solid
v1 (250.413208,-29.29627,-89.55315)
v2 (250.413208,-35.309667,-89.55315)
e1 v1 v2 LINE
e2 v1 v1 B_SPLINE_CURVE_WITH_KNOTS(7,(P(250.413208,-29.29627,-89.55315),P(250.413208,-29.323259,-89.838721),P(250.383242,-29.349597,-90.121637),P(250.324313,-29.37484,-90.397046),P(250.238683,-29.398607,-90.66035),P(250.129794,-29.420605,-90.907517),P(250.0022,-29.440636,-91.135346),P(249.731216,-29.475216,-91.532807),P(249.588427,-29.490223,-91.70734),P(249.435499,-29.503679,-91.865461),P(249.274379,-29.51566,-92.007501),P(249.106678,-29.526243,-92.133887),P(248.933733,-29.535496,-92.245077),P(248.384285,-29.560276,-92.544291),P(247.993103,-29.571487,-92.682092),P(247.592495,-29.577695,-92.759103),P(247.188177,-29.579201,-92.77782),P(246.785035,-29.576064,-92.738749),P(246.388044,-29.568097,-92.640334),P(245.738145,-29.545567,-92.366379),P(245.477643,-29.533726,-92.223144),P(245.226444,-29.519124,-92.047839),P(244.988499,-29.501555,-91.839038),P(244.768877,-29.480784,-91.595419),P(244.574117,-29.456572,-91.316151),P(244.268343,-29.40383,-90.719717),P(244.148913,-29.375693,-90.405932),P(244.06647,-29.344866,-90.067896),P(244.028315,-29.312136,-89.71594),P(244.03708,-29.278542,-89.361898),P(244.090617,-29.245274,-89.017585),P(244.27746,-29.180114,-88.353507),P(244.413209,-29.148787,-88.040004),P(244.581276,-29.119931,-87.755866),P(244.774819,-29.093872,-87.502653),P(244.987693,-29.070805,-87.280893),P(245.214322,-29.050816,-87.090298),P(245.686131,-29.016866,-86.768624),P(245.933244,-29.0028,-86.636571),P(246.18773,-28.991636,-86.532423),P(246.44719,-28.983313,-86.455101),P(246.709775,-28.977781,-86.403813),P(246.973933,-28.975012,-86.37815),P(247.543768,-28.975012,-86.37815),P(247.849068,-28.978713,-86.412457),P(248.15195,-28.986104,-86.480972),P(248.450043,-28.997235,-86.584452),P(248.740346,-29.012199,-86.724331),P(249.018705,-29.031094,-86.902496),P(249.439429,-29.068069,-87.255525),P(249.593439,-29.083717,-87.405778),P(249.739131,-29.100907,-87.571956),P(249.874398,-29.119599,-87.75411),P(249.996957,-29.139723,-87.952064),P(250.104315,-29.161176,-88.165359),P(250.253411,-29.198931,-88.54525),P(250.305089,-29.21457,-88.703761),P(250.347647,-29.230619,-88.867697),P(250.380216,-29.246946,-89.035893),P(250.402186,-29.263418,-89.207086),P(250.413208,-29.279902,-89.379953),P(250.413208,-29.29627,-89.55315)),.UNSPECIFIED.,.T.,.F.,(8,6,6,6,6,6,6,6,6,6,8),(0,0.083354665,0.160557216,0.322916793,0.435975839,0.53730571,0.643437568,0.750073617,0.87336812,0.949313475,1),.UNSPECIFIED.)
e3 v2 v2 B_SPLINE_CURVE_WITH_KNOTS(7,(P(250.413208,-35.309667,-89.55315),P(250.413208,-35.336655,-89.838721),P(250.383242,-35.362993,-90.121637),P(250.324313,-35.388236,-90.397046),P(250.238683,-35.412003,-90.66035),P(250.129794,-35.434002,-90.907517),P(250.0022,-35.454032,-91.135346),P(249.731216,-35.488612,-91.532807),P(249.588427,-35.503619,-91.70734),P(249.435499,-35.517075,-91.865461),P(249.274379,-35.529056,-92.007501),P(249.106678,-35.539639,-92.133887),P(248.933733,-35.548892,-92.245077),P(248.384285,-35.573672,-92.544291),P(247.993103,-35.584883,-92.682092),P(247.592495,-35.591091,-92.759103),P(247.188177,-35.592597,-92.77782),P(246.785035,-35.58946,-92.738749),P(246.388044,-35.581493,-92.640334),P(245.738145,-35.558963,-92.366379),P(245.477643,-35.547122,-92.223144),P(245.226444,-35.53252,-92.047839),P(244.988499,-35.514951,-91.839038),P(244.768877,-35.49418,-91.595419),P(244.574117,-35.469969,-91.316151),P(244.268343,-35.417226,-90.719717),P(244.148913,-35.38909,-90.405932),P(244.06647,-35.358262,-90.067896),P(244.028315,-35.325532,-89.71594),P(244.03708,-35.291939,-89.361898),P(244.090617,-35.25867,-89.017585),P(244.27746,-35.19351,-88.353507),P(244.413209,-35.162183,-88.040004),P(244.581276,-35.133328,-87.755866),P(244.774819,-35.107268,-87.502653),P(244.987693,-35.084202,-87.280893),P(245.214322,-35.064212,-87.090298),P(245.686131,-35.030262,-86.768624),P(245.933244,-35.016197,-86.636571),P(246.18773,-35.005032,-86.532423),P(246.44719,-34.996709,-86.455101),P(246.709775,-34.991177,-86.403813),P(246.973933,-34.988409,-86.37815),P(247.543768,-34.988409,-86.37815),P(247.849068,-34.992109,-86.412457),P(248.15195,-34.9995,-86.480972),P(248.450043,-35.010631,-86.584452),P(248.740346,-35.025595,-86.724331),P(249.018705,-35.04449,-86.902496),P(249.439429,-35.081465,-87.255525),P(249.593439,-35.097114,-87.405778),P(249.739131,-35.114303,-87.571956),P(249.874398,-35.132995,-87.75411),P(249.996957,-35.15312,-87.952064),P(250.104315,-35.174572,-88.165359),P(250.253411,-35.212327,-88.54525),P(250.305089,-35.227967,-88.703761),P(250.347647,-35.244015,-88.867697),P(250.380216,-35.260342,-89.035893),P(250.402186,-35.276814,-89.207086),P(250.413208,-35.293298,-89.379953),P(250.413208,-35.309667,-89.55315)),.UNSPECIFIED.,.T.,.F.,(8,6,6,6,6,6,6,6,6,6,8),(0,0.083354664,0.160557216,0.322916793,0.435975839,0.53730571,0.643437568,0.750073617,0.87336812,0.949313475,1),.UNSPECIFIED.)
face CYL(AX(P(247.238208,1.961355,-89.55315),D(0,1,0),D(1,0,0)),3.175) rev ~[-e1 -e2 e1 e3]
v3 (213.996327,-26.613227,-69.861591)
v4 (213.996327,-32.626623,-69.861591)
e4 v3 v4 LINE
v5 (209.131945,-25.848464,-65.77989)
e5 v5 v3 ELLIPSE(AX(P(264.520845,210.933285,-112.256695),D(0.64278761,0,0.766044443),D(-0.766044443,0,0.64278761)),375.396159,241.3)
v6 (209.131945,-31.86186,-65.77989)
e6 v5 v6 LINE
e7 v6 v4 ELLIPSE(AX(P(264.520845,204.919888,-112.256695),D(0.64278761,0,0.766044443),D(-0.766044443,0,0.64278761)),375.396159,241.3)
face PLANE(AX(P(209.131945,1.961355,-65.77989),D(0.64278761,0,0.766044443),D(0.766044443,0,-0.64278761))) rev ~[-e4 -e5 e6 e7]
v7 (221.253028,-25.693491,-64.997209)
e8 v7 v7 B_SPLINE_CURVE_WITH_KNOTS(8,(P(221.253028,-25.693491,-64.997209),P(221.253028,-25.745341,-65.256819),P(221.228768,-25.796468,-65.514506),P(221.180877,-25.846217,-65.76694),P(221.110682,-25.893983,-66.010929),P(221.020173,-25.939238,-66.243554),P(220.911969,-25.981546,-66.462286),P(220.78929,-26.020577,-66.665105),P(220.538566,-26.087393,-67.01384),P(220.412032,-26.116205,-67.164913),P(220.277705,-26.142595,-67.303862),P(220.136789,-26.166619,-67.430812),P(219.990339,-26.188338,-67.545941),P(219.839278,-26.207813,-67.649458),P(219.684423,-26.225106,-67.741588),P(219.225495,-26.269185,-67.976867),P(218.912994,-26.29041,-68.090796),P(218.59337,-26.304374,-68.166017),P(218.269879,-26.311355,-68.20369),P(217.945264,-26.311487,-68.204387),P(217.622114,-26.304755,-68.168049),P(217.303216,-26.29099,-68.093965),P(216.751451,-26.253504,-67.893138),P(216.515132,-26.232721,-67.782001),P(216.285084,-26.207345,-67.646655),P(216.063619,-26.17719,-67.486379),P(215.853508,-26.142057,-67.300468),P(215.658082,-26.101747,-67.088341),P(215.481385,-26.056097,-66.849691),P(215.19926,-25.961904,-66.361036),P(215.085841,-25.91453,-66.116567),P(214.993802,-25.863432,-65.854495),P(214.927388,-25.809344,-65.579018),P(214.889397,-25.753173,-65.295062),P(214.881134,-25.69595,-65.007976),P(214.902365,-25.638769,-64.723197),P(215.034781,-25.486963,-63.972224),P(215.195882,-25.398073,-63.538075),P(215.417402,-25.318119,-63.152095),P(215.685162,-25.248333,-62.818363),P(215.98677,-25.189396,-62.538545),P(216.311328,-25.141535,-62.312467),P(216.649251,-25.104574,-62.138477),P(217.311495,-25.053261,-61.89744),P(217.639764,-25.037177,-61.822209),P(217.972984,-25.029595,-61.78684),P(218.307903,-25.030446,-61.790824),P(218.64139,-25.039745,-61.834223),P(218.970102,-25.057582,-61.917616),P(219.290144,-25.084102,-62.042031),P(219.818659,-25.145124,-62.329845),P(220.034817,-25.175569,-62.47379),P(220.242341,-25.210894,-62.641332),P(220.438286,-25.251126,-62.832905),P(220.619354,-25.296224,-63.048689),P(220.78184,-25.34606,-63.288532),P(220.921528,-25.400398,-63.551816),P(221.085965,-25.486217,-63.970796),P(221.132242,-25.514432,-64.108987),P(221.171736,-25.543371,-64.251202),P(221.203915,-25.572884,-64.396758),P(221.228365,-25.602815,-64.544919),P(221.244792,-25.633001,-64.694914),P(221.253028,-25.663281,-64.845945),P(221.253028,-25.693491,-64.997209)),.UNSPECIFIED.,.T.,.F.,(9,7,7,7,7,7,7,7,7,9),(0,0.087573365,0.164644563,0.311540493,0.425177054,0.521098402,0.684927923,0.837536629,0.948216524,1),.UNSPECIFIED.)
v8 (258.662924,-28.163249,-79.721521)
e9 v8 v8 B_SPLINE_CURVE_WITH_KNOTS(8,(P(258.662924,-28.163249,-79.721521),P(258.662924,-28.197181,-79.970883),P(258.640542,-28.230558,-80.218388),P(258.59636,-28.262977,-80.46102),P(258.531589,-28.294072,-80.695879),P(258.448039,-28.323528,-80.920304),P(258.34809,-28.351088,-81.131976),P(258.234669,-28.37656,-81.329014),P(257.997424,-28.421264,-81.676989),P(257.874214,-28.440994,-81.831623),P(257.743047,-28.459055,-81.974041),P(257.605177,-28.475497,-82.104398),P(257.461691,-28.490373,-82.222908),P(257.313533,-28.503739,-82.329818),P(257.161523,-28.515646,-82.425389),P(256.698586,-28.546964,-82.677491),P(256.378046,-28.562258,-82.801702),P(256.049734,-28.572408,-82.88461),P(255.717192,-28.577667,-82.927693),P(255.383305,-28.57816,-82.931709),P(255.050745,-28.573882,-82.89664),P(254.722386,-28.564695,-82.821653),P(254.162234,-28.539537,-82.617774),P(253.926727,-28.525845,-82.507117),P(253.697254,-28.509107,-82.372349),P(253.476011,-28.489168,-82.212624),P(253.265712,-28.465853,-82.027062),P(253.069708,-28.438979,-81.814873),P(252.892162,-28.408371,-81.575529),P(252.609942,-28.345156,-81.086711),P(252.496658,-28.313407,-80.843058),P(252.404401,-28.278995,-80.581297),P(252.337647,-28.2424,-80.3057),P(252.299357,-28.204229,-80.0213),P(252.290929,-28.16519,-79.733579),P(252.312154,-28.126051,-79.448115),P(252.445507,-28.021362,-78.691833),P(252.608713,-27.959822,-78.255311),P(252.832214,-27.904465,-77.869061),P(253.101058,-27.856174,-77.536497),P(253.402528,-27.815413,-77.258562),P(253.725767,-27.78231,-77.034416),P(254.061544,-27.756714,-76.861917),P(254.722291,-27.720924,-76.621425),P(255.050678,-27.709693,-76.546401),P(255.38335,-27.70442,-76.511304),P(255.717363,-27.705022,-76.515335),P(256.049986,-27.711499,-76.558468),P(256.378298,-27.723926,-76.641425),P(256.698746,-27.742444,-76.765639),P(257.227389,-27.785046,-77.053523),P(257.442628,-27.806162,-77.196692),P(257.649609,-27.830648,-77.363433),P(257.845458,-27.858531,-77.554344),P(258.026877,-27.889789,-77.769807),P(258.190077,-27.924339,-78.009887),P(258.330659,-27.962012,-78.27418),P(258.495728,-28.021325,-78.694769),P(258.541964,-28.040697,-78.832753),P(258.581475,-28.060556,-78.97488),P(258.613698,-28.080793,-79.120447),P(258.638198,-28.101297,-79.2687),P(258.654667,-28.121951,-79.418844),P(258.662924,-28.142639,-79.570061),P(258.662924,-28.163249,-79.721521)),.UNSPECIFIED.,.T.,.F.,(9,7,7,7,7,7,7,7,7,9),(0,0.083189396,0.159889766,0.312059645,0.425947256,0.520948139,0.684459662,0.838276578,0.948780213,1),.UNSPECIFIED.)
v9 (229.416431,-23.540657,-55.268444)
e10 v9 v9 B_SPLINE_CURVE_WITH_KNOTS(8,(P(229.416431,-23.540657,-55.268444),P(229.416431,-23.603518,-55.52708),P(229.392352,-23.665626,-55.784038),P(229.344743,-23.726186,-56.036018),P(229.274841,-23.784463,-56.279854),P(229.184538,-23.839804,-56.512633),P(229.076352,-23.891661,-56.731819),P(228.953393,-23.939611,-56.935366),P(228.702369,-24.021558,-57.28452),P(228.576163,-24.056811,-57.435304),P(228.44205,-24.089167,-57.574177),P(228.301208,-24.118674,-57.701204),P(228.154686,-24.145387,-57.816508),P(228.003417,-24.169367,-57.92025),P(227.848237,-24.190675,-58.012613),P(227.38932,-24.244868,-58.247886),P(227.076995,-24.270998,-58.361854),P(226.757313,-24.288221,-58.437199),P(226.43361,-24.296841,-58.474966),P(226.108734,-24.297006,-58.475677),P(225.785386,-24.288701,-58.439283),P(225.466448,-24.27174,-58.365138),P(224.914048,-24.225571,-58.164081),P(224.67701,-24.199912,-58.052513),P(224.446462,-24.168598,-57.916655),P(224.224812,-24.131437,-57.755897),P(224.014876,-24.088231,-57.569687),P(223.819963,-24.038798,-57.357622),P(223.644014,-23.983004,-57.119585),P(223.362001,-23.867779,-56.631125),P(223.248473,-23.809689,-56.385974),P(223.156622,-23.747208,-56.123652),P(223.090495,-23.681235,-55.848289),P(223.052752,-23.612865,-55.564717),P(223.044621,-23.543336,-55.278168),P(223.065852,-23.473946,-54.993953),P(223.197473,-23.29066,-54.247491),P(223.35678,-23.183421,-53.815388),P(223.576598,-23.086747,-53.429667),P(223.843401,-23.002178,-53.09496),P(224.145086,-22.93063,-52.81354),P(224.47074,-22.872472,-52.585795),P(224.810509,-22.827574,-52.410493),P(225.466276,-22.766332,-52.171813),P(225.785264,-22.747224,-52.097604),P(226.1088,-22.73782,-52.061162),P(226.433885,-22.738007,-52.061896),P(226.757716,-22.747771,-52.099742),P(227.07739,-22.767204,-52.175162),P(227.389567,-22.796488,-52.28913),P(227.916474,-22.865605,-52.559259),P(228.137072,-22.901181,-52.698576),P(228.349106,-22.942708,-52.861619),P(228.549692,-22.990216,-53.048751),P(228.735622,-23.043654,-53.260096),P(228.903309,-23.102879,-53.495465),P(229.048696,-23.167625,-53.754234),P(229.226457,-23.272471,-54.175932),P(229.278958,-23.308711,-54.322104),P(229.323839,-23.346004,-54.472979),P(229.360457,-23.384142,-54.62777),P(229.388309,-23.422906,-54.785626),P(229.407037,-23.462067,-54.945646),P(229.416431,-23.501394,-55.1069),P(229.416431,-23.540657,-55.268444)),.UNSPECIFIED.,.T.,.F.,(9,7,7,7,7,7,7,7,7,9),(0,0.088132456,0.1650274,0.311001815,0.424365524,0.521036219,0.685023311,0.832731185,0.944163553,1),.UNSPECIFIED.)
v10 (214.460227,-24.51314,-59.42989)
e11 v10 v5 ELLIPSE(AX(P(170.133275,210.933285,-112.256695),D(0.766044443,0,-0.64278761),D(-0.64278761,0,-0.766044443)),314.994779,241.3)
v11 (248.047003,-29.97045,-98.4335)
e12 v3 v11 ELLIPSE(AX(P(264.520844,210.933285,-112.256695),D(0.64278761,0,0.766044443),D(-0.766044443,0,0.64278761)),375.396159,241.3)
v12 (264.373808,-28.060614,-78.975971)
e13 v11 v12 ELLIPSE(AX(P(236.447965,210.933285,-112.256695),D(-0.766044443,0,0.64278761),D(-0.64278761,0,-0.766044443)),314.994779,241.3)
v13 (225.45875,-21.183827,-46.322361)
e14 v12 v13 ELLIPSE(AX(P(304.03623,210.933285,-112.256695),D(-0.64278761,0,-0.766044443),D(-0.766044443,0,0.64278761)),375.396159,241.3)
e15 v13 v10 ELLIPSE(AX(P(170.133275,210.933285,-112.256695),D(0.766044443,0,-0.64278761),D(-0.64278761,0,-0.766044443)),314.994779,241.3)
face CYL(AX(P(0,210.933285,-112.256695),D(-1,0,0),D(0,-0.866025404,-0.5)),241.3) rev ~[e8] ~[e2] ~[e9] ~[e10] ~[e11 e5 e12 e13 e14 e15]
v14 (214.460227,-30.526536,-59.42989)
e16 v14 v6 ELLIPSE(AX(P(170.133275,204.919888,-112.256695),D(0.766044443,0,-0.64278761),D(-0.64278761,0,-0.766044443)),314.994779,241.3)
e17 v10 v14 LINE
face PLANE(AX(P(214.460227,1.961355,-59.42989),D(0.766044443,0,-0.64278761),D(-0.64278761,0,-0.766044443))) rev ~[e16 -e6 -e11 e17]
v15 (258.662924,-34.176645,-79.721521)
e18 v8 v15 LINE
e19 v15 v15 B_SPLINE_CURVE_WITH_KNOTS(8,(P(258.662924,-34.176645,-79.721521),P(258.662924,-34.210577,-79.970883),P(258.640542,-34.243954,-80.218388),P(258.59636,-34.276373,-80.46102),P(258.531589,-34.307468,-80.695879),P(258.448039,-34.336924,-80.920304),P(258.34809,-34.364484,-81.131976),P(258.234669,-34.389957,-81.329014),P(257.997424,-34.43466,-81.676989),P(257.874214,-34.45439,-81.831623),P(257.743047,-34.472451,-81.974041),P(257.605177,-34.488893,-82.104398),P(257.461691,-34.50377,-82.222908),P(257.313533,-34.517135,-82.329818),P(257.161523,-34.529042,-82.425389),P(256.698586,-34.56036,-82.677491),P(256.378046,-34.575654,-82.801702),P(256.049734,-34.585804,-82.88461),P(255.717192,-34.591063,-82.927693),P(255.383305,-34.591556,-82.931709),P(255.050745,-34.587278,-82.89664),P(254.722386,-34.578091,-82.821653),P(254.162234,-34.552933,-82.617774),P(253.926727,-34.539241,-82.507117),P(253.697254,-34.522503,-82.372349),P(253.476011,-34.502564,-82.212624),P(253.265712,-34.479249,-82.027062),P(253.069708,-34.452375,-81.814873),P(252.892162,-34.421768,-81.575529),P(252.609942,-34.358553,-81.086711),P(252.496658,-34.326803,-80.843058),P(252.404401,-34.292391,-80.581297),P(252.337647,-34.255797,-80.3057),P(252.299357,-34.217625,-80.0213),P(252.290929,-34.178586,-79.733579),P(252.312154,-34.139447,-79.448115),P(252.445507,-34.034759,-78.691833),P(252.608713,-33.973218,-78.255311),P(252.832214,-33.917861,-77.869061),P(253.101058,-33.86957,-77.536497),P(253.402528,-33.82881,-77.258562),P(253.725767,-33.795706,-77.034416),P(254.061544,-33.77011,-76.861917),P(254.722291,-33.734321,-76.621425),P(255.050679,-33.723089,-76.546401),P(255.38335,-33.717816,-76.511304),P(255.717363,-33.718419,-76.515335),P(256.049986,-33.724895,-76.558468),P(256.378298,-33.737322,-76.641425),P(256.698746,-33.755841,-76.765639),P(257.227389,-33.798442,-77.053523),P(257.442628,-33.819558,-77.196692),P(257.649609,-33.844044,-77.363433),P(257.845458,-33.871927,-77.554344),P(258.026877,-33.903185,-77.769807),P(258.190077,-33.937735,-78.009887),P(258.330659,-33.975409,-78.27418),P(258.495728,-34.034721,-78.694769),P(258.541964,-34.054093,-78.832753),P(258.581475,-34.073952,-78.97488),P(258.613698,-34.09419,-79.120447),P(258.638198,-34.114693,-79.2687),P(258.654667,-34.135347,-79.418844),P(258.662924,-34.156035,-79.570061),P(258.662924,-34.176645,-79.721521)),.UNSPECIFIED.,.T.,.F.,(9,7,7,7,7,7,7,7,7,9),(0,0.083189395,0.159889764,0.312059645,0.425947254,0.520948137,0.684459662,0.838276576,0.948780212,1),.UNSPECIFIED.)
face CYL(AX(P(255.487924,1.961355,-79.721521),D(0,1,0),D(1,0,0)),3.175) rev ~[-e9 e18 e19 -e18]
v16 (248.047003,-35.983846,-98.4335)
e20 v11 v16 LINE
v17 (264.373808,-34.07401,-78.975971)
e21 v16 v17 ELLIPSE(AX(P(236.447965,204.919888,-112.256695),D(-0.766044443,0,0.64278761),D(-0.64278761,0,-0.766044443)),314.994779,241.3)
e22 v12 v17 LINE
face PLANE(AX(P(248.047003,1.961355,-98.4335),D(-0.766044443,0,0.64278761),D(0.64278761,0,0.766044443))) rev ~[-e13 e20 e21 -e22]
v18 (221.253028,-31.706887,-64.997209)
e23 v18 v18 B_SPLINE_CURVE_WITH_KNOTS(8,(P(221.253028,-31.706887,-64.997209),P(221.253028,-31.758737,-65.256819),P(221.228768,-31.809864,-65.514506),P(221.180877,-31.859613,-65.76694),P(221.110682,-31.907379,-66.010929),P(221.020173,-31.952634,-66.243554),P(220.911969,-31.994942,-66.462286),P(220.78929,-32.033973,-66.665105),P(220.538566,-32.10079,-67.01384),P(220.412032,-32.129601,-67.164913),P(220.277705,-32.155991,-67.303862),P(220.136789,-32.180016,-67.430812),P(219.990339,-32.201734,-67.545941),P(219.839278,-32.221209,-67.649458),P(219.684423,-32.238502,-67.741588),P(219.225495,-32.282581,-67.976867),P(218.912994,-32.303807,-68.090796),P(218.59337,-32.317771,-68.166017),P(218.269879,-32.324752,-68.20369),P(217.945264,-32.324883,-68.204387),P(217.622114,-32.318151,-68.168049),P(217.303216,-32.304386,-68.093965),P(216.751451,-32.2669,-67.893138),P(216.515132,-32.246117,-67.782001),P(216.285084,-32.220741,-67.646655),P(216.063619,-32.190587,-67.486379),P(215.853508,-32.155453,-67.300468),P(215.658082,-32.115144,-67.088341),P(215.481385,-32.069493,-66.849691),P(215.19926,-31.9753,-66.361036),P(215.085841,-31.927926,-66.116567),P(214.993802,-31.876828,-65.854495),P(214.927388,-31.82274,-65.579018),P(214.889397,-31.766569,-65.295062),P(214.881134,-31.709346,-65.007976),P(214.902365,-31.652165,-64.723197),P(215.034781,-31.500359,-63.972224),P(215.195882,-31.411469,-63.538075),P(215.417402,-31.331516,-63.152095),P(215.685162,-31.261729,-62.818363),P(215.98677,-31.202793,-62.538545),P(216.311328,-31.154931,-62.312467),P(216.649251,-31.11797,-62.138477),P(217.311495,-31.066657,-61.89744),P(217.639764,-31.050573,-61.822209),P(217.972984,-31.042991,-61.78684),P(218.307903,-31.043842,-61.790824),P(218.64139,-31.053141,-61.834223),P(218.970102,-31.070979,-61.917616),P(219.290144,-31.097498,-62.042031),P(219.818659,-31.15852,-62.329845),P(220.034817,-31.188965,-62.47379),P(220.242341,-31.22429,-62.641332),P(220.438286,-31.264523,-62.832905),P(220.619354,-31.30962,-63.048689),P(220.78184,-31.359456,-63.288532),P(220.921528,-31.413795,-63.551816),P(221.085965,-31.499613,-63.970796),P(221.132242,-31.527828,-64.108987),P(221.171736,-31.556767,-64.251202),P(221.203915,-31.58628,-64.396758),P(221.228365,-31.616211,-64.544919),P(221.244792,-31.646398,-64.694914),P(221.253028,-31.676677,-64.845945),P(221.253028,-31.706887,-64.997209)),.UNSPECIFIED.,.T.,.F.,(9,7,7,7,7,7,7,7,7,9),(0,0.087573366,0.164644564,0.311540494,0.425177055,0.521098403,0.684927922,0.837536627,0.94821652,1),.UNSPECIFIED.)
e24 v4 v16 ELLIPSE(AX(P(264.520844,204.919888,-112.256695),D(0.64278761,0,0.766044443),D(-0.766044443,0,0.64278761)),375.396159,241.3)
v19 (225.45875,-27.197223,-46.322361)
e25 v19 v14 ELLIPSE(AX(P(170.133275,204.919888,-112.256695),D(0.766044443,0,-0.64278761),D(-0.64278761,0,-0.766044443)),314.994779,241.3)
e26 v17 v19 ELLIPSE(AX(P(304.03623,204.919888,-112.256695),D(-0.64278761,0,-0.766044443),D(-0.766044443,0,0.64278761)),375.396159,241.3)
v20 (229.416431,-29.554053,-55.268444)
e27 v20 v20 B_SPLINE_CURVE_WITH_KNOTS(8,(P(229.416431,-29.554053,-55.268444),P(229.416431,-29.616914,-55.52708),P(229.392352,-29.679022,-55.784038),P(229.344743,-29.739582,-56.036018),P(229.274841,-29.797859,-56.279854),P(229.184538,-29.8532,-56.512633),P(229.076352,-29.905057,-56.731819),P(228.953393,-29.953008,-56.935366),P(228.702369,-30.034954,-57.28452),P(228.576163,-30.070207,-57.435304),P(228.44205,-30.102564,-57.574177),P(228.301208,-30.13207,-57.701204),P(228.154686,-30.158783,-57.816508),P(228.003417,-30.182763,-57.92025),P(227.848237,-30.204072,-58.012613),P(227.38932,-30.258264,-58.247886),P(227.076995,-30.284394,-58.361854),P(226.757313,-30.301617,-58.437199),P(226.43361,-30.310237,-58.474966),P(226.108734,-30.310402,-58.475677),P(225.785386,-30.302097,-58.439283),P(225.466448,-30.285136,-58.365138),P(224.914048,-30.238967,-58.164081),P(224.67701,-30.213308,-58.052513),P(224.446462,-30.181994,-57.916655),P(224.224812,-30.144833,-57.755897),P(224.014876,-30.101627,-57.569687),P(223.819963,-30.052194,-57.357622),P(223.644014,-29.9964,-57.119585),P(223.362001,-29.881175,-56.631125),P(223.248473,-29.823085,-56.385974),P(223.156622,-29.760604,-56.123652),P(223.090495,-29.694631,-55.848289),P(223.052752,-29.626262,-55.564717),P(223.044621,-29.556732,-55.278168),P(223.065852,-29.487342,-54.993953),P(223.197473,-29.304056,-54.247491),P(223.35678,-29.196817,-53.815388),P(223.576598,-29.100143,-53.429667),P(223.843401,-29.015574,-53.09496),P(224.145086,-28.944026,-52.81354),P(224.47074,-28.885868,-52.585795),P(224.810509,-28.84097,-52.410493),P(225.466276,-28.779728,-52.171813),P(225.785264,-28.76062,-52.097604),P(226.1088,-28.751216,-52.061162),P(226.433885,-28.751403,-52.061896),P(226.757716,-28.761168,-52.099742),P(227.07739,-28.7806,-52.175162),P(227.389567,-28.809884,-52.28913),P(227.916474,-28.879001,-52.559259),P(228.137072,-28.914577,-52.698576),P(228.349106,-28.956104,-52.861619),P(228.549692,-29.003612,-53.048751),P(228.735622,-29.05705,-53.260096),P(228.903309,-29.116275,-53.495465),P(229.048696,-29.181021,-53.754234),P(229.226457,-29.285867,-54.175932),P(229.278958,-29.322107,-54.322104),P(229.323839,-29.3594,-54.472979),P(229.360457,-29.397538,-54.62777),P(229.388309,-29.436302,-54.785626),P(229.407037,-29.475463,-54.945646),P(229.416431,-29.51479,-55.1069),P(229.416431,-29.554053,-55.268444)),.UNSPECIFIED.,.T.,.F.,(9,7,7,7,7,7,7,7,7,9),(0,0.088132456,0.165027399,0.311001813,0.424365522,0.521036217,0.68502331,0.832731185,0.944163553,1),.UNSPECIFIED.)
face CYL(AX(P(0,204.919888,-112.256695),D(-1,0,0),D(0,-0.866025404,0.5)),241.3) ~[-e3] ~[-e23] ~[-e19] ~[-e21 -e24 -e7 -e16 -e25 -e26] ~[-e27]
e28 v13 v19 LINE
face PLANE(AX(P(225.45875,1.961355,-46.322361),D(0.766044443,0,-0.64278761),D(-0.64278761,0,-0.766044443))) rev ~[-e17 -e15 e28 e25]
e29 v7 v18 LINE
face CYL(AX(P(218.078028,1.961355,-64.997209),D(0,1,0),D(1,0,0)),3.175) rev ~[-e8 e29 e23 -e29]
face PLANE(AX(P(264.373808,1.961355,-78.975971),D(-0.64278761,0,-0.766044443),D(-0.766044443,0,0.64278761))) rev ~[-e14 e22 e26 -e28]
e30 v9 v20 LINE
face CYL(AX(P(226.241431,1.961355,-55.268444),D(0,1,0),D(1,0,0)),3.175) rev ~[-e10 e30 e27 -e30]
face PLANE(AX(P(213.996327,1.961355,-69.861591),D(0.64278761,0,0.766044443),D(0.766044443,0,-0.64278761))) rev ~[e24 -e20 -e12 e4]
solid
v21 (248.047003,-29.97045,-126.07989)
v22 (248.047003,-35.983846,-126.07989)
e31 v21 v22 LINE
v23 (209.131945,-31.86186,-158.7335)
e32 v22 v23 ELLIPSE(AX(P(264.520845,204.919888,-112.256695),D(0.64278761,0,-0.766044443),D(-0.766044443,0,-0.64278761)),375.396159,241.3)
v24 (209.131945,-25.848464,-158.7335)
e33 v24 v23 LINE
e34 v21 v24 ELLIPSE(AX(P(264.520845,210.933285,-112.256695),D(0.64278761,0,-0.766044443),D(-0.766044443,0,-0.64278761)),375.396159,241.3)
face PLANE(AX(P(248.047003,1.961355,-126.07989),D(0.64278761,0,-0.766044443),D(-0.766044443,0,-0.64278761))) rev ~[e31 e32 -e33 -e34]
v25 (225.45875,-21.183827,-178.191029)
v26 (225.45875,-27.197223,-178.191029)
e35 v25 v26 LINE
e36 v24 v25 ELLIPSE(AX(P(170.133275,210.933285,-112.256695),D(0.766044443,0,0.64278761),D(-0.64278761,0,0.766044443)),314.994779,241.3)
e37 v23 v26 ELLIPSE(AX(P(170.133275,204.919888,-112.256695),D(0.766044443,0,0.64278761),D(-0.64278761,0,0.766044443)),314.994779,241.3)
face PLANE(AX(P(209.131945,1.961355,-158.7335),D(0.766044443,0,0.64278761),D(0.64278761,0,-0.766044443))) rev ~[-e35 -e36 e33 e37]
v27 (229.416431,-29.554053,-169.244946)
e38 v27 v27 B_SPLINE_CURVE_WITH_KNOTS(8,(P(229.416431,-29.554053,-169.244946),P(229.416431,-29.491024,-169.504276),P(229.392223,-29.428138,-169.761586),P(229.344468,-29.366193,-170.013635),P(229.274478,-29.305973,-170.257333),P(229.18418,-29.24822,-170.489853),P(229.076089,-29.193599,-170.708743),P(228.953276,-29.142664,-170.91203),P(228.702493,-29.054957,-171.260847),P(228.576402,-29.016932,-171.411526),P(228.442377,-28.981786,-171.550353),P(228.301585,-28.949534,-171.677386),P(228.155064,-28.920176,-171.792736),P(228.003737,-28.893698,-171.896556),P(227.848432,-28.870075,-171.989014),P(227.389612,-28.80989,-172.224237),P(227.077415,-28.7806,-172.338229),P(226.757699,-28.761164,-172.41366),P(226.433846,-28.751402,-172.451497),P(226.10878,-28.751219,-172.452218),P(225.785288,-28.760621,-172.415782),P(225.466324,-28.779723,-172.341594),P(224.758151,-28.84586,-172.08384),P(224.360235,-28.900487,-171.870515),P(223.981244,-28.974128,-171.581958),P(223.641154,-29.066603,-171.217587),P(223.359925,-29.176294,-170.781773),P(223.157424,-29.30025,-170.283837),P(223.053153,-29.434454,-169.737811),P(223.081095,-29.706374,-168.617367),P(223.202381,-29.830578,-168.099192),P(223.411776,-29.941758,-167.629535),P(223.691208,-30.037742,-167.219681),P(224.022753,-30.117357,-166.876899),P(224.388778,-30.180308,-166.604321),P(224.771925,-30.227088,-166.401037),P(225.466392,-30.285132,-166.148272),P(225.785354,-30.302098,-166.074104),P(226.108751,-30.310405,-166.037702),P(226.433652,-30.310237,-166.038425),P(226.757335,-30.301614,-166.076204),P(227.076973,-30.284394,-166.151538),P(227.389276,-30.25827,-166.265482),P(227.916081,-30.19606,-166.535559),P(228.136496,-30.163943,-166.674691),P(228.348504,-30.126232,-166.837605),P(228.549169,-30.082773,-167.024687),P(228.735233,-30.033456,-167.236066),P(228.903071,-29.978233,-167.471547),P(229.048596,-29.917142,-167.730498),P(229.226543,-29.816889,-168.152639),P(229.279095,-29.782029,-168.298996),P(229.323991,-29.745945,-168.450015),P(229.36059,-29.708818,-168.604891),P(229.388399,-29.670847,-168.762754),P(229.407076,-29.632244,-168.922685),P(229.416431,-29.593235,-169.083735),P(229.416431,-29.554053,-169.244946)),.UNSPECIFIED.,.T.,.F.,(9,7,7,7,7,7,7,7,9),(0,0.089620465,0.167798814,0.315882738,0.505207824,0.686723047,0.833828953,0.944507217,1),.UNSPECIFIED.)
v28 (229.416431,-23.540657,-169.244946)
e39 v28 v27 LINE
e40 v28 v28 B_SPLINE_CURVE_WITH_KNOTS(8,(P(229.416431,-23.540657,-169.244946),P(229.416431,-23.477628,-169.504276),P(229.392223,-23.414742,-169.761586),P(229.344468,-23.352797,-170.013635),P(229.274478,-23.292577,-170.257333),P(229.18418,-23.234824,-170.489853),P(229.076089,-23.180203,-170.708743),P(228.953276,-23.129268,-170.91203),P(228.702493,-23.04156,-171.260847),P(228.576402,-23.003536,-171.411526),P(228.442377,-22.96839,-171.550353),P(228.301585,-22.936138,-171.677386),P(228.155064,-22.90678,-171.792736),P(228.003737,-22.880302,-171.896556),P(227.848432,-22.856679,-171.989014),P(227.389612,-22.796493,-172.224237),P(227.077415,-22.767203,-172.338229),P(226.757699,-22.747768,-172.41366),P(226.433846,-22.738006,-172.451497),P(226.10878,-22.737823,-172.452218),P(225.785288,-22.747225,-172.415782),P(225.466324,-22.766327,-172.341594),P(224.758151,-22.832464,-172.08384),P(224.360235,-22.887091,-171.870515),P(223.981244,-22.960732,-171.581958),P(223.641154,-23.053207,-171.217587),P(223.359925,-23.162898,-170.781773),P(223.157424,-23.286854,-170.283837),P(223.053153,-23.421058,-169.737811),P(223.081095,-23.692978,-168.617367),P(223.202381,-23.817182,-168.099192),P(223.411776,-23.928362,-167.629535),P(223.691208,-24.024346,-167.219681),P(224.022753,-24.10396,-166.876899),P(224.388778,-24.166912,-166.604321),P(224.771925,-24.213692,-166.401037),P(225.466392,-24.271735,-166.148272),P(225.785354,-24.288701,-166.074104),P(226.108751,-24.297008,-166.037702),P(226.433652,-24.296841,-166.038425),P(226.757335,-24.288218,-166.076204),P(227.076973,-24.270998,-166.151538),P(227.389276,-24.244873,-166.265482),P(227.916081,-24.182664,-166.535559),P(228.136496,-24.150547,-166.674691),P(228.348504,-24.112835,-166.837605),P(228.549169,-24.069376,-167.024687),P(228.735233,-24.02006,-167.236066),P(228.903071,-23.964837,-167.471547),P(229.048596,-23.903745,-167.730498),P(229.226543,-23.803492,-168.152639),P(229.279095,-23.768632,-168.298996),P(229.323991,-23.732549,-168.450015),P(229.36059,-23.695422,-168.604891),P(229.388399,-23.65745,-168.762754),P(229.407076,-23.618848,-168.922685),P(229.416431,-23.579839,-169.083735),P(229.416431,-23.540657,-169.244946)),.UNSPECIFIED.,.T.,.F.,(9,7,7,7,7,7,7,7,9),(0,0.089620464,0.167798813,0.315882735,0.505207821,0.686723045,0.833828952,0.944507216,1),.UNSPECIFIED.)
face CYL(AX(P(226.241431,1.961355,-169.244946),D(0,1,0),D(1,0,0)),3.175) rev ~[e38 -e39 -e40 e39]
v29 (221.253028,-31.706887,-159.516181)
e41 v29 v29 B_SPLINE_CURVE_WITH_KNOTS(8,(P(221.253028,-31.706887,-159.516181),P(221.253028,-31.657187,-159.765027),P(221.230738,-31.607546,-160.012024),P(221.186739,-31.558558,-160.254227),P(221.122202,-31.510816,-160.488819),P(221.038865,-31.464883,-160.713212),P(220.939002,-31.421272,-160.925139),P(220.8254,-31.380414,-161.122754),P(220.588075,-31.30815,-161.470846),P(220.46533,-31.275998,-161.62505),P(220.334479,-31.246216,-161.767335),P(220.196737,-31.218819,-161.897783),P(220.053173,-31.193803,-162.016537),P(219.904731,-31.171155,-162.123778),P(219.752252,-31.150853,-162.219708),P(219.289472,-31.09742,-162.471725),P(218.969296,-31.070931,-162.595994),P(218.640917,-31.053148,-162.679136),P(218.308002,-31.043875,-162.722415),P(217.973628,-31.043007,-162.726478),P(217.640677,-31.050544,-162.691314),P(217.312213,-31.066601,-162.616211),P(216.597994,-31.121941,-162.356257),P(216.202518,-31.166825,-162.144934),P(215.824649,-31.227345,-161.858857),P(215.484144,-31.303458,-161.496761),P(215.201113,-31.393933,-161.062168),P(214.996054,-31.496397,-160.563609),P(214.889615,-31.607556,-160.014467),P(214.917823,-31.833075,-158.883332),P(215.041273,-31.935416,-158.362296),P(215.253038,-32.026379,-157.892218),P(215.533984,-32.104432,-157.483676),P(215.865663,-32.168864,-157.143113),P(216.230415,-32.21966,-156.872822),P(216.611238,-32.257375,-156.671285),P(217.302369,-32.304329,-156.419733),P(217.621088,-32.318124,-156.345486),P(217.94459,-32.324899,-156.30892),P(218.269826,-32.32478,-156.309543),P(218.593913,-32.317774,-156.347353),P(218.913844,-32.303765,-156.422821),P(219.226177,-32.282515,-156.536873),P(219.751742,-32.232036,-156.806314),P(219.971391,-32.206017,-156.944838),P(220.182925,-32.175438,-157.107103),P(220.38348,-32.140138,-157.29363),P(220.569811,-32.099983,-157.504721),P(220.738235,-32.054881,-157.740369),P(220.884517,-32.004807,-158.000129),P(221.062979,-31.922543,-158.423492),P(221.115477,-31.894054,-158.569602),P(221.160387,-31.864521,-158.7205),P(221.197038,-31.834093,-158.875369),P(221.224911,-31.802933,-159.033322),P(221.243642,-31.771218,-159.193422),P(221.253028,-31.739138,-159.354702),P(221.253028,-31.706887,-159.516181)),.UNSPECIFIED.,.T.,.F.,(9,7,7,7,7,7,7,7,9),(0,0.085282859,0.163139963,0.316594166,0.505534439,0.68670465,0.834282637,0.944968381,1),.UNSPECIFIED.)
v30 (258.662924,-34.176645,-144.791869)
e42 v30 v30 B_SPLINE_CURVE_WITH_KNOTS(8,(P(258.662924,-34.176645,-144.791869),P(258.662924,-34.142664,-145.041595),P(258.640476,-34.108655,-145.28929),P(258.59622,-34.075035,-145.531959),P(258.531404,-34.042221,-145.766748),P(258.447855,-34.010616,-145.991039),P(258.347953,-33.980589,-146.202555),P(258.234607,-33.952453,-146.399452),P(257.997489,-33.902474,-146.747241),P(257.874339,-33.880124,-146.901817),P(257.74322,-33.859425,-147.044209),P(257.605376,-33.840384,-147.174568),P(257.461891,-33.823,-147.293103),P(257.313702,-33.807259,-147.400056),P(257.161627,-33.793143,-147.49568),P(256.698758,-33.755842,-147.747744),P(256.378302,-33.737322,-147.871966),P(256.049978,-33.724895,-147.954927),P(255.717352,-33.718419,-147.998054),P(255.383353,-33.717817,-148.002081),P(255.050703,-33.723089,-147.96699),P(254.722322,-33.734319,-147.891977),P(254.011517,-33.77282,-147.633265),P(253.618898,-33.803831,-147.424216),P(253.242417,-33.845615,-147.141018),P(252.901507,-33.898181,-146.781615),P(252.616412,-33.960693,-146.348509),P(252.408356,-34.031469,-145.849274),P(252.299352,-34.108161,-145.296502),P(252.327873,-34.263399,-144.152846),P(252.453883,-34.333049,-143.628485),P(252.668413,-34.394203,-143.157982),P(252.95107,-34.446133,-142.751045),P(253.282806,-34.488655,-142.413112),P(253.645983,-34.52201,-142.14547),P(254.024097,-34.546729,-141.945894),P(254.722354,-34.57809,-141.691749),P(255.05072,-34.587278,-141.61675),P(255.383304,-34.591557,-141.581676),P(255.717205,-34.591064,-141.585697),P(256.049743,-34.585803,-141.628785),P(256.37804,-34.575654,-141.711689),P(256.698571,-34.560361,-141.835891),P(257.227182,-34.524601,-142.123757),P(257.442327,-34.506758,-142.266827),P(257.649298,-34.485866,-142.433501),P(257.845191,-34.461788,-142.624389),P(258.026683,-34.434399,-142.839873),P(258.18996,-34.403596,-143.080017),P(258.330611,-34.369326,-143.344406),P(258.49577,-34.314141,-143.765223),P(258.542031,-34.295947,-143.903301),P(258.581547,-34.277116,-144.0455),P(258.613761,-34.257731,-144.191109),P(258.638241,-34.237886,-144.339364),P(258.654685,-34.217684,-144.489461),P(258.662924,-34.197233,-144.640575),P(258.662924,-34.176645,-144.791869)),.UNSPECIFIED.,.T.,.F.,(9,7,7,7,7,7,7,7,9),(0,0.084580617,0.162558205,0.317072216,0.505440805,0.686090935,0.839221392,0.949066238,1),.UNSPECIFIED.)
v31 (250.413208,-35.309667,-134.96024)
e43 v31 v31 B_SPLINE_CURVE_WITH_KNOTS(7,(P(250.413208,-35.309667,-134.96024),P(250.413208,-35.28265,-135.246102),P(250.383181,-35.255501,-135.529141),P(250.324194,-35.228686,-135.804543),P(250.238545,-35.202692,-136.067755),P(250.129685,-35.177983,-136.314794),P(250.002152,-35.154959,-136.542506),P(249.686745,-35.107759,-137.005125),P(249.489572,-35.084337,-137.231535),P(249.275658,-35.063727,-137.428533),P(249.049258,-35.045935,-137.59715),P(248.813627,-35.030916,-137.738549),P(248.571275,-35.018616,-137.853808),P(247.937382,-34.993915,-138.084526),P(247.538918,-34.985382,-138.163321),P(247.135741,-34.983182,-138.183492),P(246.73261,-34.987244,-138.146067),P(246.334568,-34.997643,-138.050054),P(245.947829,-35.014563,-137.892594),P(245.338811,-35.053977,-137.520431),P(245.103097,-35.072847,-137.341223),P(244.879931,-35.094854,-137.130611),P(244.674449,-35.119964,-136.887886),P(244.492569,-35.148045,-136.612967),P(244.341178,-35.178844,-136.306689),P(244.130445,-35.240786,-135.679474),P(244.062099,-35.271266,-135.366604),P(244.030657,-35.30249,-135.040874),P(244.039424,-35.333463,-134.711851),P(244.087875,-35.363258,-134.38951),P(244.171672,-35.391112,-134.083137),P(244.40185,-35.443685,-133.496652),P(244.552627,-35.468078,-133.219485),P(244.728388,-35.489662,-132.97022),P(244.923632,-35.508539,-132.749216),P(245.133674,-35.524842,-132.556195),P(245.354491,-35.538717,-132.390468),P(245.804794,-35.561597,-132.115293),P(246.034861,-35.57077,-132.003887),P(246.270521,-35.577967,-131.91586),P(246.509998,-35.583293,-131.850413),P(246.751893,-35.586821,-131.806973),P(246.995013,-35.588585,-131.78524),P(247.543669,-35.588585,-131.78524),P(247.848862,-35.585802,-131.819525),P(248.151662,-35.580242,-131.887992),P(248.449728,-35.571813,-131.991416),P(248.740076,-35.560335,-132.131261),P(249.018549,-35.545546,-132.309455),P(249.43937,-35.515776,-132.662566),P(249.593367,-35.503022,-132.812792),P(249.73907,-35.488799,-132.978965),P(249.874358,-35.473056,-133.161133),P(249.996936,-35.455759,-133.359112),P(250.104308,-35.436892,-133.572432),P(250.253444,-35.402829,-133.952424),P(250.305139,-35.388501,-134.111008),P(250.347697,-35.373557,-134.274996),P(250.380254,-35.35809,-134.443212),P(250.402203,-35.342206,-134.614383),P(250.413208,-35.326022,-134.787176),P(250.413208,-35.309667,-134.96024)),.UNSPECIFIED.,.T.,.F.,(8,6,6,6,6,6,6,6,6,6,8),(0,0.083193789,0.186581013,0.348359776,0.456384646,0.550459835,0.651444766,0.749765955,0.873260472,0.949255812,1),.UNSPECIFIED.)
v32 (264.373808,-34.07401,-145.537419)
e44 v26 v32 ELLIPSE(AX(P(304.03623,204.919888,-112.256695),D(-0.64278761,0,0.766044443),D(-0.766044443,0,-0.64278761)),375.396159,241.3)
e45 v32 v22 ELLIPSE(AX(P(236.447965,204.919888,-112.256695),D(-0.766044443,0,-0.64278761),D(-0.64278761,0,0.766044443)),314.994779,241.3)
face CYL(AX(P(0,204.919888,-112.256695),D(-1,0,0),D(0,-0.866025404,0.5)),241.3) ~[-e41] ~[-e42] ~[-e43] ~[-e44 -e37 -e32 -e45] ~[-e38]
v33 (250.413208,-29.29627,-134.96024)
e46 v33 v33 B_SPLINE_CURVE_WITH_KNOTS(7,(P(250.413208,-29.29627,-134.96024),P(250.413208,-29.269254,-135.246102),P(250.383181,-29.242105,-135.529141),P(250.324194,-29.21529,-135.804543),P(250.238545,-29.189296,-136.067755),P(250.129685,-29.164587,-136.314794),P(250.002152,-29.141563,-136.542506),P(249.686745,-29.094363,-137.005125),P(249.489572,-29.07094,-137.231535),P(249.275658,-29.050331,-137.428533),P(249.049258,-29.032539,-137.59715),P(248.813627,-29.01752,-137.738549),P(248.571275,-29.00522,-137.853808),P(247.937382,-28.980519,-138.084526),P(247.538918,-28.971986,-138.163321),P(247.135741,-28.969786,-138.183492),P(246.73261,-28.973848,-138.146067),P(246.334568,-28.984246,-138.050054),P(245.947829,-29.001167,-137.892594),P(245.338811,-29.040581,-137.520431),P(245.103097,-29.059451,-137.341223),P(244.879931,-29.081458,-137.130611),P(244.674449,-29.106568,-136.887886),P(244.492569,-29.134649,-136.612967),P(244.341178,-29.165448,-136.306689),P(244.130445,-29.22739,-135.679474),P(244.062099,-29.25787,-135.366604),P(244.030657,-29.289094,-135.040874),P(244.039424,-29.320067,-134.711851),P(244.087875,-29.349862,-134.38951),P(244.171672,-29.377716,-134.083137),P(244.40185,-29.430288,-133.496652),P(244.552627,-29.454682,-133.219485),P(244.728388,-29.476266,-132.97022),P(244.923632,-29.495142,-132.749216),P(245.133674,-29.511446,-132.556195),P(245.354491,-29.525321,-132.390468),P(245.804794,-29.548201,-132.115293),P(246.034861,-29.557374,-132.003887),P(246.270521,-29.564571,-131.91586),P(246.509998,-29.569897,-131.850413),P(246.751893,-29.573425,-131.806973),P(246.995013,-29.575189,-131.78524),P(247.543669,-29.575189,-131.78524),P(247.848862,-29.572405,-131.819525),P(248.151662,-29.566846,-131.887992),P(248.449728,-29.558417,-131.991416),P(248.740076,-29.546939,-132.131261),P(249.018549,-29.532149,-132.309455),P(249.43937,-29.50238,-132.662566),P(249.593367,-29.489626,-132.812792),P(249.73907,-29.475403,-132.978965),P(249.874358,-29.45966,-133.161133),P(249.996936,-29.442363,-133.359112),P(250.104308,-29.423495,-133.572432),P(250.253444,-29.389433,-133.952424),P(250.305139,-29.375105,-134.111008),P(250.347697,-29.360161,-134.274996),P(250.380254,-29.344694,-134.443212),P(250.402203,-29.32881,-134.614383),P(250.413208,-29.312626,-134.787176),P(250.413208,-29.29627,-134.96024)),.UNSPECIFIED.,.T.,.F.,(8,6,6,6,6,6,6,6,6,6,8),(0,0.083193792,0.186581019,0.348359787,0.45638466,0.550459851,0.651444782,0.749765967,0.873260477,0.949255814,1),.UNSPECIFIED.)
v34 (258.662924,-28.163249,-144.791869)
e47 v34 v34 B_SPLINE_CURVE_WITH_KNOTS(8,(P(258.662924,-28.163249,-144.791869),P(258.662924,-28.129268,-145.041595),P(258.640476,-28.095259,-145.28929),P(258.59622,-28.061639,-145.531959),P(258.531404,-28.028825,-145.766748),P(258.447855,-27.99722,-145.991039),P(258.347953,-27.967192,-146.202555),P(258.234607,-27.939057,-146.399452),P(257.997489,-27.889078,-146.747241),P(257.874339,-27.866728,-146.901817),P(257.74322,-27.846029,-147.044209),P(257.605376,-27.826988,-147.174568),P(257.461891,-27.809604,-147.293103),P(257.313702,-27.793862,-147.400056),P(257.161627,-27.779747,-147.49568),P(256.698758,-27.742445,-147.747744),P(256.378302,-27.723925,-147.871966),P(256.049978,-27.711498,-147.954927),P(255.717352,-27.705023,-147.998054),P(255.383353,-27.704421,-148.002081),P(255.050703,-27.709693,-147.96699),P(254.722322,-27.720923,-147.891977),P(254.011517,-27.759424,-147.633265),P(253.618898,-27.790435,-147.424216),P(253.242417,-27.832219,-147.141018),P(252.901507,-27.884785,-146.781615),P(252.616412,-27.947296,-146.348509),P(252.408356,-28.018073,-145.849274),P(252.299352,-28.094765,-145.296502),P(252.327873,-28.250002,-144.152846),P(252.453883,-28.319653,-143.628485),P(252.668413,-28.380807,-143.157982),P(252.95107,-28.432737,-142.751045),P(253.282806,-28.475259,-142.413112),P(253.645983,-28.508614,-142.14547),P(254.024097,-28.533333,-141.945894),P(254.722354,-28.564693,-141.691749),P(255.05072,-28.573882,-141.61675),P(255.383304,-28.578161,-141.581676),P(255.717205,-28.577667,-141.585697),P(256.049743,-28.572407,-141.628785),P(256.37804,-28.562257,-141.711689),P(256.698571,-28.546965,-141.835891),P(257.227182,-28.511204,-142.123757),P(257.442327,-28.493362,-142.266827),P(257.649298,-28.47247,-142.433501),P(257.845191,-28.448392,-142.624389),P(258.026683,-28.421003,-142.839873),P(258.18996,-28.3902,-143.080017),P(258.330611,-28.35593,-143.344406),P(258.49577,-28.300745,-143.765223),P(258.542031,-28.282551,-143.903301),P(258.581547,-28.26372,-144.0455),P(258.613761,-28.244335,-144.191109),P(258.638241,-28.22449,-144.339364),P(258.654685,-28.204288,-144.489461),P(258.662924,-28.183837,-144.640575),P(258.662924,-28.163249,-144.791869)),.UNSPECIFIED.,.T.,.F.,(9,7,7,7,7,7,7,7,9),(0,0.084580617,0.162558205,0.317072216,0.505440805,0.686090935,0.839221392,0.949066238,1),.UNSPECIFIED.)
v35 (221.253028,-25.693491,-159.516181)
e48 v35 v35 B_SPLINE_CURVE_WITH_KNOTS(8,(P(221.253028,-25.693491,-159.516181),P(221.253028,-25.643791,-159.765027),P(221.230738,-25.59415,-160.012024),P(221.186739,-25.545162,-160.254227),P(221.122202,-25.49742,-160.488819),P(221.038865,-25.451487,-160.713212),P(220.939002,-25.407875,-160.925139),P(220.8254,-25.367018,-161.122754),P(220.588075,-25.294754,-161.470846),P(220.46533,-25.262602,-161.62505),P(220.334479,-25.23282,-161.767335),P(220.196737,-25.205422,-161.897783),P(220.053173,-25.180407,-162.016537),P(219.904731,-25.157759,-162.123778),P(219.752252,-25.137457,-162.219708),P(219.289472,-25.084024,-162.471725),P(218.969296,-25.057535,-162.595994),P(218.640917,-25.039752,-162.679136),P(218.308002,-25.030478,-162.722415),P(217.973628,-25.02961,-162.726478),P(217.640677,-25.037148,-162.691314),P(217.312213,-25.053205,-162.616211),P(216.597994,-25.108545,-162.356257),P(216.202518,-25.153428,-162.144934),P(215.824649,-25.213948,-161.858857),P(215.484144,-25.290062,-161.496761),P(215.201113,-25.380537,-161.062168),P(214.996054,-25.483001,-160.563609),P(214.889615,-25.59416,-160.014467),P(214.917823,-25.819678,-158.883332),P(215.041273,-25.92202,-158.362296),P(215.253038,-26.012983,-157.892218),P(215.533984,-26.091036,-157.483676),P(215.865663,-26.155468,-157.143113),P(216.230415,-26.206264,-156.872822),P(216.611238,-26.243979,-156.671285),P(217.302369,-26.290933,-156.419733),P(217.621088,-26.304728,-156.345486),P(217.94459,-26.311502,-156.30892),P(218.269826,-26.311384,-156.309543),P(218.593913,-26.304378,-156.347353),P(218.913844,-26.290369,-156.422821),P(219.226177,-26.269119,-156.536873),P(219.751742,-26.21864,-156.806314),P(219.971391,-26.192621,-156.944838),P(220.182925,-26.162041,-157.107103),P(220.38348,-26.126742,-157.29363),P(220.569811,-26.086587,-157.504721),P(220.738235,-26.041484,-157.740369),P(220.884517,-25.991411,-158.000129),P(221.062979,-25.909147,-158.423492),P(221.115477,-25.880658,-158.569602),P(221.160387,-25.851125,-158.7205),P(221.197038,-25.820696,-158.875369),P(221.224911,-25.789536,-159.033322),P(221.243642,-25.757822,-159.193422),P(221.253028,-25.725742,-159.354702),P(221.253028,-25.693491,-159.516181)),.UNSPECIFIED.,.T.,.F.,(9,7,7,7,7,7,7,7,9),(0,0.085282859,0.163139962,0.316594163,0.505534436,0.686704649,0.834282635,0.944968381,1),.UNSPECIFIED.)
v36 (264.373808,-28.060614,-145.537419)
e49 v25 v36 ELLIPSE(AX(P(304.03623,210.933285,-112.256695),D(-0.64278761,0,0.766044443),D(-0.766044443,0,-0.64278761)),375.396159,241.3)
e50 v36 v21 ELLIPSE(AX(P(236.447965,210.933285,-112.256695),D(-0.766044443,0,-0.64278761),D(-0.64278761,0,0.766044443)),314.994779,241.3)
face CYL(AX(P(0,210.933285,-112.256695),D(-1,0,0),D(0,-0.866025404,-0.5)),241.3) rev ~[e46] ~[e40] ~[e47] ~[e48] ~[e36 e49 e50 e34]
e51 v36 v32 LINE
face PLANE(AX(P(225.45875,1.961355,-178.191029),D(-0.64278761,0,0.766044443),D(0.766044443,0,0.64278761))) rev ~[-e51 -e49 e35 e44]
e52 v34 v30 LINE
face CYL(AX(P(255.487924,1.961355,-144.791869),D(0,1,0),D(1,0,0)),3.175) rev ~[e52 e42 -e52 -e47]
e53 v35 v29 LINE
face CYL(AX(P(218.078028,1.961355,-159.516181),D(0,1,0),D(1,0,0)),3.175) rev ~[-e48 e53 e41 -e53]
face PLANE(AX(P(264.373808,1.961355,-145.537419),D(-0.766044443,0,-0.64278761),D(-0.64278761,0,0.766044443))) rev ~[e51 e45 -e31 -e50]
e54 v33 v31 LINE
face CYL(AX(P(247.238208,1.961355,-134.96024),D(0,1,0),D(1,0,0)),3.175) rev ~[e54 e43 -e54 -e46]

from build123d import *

# Parameters (mm, degrees)
BOSS_EXTRUDE4_DEPTH = 304.8
SKETCH4_W           = 120.367414929
SKETCH4_H           = 199.720747733
CUT_EXTRUDE20_DEPTH = 200
SKETCH4_17_R        = 3.175
CUT_EXTRUDE21_DEPTH = 200


with BuildPart() as part:
    # Sketch3 → Boss-Extrude4 (new body)
    with BuildSketch(Plane(origin=(0, 0, 0), x_dir=(0, 0, -1), z_dir=(1, 0, 0))):
        with BuildLine():
            ThreePointArc((232.90669496, 1.961354585), (112.25669496, -30.366715482), (-8.39330504, 1.961354585))
            Line((-8.39330504, 1.961354585), (-8.39330504, -4.052041589))
            ThreePointArc((-8.39330504, -4.052041589), (112.25669496, -36.380111656), (232.90669496, -4.052041589))
            Line((232.90669496, -4.052041589), (232.90669496, 1.961354585))
        make_face()
    extrude(amount=BOSS_EXTRUDE4_DEPTH)

    # Sketch4 → Cut-Extrude20 (cut)
    with BuildSketch(Plane(origin=(0, 1.961354585, 0), x_dir=(1, 0, 0), z_dir=(0, 1, 0))):
        with Locations((227.963988261, 108.244447796)):
            Rectangle(SKETCH4_W, SKETCH4_H)
        Polygon((264.373807825, 78.97597139), (225.458750115, 46.322360818), (214.460227487, 59.429889674), (209.131944829, 65.779889674), (213.996327043, 69.861590995), (248.047002539, 98.433500246), align=None, mode=Mode.SUBTRACT)
        Polygon((248.047002539, 126.079889674), (209.131944829, 158.733500246), (225.458750115, 178.191029101), (264.373807825, 145.537418529), align=None, mode=Mode.SUBTRACT)
    extrude(amount=-CUT_EXTRUDE20_DEPTH, mode=Mode.SUBTRACT)


with BuildPart() as cut_extrude20_piece_1:
    # of the separate pieces the step leaves, piece 1, a body of its own (cut_extrude20_pieces_kept)
    add(part.part.solids().sort_by_distance((225.458750115, -21.183827263, -178.191029101))[0])


with BuildPart() as cut_extrude20_piece_2:
    # of the separate pieces the step leaves, piece 2, a body of its own (cut_extrude20_pieces_kept)
    add(part.part.solids().sort_by_distance((209.131944829, -25.848464294, -65.779889674))[0])


with BuildPart() as cut_extrude21_tool:
    # Sketch4<17> → Cut-Extrude21 (new body)
    with BuildSketch(Plane(origin=(0, 1.961354585, 0), x_dir=(1, 0, 0), z_dir=(0, 1, 0))):
        with Locations((218.078028364, 64.997208781)):
            Circle(SKETCH4_17_R)
        with Locations((247.238208457, 89.553149912)):
            Circle(SKETCH4_17_R)
        with Locations((226.241431007, 55.268444354)):
            Circle(SKETCH4_17_R)
        with Locations((255.487924349, 79.72152136)):
            Circle(SKETCH4_17_R)
        with Locations((226.241431007, 169.244945565)):
            Circle(SKETCH4_17_R)
        with Locations((255.487924349, 144.791868559)):
            Circle(SKETCH4_17_R)
        with Locations((218.078028364, 159.516181138)):
            Circle(SKETCH4_17_R)
        with Locations((247.238208457, 134.960240007)):
            Circle(SKETCH4_17_R)
    extrude(amount=-CUT_EXTRUDE21_DEPTH)


with BuildPart() as cut_extrude20_piece_1_1:
    add(cut_extrude20_piece_1.part)

    # Cut-Extrude21: cut by cut_extrude21_tool
    add(cut_extrude21_tool.part, mode=Mode.SUBTRACT)


with BuildPart() as cut_extrude20_piece_2_1:
    add(cut_extrude20_piece_2.part)

    # Cut-Extrude21: cut by cut_extrude21_tool
    add(cut_extrude21_tool.part, mode=Mode.SUBTRACT)


solid = Compound([cut_extrude20_piece_1_1.part, cut_extrude20_piece_2_1.part])
